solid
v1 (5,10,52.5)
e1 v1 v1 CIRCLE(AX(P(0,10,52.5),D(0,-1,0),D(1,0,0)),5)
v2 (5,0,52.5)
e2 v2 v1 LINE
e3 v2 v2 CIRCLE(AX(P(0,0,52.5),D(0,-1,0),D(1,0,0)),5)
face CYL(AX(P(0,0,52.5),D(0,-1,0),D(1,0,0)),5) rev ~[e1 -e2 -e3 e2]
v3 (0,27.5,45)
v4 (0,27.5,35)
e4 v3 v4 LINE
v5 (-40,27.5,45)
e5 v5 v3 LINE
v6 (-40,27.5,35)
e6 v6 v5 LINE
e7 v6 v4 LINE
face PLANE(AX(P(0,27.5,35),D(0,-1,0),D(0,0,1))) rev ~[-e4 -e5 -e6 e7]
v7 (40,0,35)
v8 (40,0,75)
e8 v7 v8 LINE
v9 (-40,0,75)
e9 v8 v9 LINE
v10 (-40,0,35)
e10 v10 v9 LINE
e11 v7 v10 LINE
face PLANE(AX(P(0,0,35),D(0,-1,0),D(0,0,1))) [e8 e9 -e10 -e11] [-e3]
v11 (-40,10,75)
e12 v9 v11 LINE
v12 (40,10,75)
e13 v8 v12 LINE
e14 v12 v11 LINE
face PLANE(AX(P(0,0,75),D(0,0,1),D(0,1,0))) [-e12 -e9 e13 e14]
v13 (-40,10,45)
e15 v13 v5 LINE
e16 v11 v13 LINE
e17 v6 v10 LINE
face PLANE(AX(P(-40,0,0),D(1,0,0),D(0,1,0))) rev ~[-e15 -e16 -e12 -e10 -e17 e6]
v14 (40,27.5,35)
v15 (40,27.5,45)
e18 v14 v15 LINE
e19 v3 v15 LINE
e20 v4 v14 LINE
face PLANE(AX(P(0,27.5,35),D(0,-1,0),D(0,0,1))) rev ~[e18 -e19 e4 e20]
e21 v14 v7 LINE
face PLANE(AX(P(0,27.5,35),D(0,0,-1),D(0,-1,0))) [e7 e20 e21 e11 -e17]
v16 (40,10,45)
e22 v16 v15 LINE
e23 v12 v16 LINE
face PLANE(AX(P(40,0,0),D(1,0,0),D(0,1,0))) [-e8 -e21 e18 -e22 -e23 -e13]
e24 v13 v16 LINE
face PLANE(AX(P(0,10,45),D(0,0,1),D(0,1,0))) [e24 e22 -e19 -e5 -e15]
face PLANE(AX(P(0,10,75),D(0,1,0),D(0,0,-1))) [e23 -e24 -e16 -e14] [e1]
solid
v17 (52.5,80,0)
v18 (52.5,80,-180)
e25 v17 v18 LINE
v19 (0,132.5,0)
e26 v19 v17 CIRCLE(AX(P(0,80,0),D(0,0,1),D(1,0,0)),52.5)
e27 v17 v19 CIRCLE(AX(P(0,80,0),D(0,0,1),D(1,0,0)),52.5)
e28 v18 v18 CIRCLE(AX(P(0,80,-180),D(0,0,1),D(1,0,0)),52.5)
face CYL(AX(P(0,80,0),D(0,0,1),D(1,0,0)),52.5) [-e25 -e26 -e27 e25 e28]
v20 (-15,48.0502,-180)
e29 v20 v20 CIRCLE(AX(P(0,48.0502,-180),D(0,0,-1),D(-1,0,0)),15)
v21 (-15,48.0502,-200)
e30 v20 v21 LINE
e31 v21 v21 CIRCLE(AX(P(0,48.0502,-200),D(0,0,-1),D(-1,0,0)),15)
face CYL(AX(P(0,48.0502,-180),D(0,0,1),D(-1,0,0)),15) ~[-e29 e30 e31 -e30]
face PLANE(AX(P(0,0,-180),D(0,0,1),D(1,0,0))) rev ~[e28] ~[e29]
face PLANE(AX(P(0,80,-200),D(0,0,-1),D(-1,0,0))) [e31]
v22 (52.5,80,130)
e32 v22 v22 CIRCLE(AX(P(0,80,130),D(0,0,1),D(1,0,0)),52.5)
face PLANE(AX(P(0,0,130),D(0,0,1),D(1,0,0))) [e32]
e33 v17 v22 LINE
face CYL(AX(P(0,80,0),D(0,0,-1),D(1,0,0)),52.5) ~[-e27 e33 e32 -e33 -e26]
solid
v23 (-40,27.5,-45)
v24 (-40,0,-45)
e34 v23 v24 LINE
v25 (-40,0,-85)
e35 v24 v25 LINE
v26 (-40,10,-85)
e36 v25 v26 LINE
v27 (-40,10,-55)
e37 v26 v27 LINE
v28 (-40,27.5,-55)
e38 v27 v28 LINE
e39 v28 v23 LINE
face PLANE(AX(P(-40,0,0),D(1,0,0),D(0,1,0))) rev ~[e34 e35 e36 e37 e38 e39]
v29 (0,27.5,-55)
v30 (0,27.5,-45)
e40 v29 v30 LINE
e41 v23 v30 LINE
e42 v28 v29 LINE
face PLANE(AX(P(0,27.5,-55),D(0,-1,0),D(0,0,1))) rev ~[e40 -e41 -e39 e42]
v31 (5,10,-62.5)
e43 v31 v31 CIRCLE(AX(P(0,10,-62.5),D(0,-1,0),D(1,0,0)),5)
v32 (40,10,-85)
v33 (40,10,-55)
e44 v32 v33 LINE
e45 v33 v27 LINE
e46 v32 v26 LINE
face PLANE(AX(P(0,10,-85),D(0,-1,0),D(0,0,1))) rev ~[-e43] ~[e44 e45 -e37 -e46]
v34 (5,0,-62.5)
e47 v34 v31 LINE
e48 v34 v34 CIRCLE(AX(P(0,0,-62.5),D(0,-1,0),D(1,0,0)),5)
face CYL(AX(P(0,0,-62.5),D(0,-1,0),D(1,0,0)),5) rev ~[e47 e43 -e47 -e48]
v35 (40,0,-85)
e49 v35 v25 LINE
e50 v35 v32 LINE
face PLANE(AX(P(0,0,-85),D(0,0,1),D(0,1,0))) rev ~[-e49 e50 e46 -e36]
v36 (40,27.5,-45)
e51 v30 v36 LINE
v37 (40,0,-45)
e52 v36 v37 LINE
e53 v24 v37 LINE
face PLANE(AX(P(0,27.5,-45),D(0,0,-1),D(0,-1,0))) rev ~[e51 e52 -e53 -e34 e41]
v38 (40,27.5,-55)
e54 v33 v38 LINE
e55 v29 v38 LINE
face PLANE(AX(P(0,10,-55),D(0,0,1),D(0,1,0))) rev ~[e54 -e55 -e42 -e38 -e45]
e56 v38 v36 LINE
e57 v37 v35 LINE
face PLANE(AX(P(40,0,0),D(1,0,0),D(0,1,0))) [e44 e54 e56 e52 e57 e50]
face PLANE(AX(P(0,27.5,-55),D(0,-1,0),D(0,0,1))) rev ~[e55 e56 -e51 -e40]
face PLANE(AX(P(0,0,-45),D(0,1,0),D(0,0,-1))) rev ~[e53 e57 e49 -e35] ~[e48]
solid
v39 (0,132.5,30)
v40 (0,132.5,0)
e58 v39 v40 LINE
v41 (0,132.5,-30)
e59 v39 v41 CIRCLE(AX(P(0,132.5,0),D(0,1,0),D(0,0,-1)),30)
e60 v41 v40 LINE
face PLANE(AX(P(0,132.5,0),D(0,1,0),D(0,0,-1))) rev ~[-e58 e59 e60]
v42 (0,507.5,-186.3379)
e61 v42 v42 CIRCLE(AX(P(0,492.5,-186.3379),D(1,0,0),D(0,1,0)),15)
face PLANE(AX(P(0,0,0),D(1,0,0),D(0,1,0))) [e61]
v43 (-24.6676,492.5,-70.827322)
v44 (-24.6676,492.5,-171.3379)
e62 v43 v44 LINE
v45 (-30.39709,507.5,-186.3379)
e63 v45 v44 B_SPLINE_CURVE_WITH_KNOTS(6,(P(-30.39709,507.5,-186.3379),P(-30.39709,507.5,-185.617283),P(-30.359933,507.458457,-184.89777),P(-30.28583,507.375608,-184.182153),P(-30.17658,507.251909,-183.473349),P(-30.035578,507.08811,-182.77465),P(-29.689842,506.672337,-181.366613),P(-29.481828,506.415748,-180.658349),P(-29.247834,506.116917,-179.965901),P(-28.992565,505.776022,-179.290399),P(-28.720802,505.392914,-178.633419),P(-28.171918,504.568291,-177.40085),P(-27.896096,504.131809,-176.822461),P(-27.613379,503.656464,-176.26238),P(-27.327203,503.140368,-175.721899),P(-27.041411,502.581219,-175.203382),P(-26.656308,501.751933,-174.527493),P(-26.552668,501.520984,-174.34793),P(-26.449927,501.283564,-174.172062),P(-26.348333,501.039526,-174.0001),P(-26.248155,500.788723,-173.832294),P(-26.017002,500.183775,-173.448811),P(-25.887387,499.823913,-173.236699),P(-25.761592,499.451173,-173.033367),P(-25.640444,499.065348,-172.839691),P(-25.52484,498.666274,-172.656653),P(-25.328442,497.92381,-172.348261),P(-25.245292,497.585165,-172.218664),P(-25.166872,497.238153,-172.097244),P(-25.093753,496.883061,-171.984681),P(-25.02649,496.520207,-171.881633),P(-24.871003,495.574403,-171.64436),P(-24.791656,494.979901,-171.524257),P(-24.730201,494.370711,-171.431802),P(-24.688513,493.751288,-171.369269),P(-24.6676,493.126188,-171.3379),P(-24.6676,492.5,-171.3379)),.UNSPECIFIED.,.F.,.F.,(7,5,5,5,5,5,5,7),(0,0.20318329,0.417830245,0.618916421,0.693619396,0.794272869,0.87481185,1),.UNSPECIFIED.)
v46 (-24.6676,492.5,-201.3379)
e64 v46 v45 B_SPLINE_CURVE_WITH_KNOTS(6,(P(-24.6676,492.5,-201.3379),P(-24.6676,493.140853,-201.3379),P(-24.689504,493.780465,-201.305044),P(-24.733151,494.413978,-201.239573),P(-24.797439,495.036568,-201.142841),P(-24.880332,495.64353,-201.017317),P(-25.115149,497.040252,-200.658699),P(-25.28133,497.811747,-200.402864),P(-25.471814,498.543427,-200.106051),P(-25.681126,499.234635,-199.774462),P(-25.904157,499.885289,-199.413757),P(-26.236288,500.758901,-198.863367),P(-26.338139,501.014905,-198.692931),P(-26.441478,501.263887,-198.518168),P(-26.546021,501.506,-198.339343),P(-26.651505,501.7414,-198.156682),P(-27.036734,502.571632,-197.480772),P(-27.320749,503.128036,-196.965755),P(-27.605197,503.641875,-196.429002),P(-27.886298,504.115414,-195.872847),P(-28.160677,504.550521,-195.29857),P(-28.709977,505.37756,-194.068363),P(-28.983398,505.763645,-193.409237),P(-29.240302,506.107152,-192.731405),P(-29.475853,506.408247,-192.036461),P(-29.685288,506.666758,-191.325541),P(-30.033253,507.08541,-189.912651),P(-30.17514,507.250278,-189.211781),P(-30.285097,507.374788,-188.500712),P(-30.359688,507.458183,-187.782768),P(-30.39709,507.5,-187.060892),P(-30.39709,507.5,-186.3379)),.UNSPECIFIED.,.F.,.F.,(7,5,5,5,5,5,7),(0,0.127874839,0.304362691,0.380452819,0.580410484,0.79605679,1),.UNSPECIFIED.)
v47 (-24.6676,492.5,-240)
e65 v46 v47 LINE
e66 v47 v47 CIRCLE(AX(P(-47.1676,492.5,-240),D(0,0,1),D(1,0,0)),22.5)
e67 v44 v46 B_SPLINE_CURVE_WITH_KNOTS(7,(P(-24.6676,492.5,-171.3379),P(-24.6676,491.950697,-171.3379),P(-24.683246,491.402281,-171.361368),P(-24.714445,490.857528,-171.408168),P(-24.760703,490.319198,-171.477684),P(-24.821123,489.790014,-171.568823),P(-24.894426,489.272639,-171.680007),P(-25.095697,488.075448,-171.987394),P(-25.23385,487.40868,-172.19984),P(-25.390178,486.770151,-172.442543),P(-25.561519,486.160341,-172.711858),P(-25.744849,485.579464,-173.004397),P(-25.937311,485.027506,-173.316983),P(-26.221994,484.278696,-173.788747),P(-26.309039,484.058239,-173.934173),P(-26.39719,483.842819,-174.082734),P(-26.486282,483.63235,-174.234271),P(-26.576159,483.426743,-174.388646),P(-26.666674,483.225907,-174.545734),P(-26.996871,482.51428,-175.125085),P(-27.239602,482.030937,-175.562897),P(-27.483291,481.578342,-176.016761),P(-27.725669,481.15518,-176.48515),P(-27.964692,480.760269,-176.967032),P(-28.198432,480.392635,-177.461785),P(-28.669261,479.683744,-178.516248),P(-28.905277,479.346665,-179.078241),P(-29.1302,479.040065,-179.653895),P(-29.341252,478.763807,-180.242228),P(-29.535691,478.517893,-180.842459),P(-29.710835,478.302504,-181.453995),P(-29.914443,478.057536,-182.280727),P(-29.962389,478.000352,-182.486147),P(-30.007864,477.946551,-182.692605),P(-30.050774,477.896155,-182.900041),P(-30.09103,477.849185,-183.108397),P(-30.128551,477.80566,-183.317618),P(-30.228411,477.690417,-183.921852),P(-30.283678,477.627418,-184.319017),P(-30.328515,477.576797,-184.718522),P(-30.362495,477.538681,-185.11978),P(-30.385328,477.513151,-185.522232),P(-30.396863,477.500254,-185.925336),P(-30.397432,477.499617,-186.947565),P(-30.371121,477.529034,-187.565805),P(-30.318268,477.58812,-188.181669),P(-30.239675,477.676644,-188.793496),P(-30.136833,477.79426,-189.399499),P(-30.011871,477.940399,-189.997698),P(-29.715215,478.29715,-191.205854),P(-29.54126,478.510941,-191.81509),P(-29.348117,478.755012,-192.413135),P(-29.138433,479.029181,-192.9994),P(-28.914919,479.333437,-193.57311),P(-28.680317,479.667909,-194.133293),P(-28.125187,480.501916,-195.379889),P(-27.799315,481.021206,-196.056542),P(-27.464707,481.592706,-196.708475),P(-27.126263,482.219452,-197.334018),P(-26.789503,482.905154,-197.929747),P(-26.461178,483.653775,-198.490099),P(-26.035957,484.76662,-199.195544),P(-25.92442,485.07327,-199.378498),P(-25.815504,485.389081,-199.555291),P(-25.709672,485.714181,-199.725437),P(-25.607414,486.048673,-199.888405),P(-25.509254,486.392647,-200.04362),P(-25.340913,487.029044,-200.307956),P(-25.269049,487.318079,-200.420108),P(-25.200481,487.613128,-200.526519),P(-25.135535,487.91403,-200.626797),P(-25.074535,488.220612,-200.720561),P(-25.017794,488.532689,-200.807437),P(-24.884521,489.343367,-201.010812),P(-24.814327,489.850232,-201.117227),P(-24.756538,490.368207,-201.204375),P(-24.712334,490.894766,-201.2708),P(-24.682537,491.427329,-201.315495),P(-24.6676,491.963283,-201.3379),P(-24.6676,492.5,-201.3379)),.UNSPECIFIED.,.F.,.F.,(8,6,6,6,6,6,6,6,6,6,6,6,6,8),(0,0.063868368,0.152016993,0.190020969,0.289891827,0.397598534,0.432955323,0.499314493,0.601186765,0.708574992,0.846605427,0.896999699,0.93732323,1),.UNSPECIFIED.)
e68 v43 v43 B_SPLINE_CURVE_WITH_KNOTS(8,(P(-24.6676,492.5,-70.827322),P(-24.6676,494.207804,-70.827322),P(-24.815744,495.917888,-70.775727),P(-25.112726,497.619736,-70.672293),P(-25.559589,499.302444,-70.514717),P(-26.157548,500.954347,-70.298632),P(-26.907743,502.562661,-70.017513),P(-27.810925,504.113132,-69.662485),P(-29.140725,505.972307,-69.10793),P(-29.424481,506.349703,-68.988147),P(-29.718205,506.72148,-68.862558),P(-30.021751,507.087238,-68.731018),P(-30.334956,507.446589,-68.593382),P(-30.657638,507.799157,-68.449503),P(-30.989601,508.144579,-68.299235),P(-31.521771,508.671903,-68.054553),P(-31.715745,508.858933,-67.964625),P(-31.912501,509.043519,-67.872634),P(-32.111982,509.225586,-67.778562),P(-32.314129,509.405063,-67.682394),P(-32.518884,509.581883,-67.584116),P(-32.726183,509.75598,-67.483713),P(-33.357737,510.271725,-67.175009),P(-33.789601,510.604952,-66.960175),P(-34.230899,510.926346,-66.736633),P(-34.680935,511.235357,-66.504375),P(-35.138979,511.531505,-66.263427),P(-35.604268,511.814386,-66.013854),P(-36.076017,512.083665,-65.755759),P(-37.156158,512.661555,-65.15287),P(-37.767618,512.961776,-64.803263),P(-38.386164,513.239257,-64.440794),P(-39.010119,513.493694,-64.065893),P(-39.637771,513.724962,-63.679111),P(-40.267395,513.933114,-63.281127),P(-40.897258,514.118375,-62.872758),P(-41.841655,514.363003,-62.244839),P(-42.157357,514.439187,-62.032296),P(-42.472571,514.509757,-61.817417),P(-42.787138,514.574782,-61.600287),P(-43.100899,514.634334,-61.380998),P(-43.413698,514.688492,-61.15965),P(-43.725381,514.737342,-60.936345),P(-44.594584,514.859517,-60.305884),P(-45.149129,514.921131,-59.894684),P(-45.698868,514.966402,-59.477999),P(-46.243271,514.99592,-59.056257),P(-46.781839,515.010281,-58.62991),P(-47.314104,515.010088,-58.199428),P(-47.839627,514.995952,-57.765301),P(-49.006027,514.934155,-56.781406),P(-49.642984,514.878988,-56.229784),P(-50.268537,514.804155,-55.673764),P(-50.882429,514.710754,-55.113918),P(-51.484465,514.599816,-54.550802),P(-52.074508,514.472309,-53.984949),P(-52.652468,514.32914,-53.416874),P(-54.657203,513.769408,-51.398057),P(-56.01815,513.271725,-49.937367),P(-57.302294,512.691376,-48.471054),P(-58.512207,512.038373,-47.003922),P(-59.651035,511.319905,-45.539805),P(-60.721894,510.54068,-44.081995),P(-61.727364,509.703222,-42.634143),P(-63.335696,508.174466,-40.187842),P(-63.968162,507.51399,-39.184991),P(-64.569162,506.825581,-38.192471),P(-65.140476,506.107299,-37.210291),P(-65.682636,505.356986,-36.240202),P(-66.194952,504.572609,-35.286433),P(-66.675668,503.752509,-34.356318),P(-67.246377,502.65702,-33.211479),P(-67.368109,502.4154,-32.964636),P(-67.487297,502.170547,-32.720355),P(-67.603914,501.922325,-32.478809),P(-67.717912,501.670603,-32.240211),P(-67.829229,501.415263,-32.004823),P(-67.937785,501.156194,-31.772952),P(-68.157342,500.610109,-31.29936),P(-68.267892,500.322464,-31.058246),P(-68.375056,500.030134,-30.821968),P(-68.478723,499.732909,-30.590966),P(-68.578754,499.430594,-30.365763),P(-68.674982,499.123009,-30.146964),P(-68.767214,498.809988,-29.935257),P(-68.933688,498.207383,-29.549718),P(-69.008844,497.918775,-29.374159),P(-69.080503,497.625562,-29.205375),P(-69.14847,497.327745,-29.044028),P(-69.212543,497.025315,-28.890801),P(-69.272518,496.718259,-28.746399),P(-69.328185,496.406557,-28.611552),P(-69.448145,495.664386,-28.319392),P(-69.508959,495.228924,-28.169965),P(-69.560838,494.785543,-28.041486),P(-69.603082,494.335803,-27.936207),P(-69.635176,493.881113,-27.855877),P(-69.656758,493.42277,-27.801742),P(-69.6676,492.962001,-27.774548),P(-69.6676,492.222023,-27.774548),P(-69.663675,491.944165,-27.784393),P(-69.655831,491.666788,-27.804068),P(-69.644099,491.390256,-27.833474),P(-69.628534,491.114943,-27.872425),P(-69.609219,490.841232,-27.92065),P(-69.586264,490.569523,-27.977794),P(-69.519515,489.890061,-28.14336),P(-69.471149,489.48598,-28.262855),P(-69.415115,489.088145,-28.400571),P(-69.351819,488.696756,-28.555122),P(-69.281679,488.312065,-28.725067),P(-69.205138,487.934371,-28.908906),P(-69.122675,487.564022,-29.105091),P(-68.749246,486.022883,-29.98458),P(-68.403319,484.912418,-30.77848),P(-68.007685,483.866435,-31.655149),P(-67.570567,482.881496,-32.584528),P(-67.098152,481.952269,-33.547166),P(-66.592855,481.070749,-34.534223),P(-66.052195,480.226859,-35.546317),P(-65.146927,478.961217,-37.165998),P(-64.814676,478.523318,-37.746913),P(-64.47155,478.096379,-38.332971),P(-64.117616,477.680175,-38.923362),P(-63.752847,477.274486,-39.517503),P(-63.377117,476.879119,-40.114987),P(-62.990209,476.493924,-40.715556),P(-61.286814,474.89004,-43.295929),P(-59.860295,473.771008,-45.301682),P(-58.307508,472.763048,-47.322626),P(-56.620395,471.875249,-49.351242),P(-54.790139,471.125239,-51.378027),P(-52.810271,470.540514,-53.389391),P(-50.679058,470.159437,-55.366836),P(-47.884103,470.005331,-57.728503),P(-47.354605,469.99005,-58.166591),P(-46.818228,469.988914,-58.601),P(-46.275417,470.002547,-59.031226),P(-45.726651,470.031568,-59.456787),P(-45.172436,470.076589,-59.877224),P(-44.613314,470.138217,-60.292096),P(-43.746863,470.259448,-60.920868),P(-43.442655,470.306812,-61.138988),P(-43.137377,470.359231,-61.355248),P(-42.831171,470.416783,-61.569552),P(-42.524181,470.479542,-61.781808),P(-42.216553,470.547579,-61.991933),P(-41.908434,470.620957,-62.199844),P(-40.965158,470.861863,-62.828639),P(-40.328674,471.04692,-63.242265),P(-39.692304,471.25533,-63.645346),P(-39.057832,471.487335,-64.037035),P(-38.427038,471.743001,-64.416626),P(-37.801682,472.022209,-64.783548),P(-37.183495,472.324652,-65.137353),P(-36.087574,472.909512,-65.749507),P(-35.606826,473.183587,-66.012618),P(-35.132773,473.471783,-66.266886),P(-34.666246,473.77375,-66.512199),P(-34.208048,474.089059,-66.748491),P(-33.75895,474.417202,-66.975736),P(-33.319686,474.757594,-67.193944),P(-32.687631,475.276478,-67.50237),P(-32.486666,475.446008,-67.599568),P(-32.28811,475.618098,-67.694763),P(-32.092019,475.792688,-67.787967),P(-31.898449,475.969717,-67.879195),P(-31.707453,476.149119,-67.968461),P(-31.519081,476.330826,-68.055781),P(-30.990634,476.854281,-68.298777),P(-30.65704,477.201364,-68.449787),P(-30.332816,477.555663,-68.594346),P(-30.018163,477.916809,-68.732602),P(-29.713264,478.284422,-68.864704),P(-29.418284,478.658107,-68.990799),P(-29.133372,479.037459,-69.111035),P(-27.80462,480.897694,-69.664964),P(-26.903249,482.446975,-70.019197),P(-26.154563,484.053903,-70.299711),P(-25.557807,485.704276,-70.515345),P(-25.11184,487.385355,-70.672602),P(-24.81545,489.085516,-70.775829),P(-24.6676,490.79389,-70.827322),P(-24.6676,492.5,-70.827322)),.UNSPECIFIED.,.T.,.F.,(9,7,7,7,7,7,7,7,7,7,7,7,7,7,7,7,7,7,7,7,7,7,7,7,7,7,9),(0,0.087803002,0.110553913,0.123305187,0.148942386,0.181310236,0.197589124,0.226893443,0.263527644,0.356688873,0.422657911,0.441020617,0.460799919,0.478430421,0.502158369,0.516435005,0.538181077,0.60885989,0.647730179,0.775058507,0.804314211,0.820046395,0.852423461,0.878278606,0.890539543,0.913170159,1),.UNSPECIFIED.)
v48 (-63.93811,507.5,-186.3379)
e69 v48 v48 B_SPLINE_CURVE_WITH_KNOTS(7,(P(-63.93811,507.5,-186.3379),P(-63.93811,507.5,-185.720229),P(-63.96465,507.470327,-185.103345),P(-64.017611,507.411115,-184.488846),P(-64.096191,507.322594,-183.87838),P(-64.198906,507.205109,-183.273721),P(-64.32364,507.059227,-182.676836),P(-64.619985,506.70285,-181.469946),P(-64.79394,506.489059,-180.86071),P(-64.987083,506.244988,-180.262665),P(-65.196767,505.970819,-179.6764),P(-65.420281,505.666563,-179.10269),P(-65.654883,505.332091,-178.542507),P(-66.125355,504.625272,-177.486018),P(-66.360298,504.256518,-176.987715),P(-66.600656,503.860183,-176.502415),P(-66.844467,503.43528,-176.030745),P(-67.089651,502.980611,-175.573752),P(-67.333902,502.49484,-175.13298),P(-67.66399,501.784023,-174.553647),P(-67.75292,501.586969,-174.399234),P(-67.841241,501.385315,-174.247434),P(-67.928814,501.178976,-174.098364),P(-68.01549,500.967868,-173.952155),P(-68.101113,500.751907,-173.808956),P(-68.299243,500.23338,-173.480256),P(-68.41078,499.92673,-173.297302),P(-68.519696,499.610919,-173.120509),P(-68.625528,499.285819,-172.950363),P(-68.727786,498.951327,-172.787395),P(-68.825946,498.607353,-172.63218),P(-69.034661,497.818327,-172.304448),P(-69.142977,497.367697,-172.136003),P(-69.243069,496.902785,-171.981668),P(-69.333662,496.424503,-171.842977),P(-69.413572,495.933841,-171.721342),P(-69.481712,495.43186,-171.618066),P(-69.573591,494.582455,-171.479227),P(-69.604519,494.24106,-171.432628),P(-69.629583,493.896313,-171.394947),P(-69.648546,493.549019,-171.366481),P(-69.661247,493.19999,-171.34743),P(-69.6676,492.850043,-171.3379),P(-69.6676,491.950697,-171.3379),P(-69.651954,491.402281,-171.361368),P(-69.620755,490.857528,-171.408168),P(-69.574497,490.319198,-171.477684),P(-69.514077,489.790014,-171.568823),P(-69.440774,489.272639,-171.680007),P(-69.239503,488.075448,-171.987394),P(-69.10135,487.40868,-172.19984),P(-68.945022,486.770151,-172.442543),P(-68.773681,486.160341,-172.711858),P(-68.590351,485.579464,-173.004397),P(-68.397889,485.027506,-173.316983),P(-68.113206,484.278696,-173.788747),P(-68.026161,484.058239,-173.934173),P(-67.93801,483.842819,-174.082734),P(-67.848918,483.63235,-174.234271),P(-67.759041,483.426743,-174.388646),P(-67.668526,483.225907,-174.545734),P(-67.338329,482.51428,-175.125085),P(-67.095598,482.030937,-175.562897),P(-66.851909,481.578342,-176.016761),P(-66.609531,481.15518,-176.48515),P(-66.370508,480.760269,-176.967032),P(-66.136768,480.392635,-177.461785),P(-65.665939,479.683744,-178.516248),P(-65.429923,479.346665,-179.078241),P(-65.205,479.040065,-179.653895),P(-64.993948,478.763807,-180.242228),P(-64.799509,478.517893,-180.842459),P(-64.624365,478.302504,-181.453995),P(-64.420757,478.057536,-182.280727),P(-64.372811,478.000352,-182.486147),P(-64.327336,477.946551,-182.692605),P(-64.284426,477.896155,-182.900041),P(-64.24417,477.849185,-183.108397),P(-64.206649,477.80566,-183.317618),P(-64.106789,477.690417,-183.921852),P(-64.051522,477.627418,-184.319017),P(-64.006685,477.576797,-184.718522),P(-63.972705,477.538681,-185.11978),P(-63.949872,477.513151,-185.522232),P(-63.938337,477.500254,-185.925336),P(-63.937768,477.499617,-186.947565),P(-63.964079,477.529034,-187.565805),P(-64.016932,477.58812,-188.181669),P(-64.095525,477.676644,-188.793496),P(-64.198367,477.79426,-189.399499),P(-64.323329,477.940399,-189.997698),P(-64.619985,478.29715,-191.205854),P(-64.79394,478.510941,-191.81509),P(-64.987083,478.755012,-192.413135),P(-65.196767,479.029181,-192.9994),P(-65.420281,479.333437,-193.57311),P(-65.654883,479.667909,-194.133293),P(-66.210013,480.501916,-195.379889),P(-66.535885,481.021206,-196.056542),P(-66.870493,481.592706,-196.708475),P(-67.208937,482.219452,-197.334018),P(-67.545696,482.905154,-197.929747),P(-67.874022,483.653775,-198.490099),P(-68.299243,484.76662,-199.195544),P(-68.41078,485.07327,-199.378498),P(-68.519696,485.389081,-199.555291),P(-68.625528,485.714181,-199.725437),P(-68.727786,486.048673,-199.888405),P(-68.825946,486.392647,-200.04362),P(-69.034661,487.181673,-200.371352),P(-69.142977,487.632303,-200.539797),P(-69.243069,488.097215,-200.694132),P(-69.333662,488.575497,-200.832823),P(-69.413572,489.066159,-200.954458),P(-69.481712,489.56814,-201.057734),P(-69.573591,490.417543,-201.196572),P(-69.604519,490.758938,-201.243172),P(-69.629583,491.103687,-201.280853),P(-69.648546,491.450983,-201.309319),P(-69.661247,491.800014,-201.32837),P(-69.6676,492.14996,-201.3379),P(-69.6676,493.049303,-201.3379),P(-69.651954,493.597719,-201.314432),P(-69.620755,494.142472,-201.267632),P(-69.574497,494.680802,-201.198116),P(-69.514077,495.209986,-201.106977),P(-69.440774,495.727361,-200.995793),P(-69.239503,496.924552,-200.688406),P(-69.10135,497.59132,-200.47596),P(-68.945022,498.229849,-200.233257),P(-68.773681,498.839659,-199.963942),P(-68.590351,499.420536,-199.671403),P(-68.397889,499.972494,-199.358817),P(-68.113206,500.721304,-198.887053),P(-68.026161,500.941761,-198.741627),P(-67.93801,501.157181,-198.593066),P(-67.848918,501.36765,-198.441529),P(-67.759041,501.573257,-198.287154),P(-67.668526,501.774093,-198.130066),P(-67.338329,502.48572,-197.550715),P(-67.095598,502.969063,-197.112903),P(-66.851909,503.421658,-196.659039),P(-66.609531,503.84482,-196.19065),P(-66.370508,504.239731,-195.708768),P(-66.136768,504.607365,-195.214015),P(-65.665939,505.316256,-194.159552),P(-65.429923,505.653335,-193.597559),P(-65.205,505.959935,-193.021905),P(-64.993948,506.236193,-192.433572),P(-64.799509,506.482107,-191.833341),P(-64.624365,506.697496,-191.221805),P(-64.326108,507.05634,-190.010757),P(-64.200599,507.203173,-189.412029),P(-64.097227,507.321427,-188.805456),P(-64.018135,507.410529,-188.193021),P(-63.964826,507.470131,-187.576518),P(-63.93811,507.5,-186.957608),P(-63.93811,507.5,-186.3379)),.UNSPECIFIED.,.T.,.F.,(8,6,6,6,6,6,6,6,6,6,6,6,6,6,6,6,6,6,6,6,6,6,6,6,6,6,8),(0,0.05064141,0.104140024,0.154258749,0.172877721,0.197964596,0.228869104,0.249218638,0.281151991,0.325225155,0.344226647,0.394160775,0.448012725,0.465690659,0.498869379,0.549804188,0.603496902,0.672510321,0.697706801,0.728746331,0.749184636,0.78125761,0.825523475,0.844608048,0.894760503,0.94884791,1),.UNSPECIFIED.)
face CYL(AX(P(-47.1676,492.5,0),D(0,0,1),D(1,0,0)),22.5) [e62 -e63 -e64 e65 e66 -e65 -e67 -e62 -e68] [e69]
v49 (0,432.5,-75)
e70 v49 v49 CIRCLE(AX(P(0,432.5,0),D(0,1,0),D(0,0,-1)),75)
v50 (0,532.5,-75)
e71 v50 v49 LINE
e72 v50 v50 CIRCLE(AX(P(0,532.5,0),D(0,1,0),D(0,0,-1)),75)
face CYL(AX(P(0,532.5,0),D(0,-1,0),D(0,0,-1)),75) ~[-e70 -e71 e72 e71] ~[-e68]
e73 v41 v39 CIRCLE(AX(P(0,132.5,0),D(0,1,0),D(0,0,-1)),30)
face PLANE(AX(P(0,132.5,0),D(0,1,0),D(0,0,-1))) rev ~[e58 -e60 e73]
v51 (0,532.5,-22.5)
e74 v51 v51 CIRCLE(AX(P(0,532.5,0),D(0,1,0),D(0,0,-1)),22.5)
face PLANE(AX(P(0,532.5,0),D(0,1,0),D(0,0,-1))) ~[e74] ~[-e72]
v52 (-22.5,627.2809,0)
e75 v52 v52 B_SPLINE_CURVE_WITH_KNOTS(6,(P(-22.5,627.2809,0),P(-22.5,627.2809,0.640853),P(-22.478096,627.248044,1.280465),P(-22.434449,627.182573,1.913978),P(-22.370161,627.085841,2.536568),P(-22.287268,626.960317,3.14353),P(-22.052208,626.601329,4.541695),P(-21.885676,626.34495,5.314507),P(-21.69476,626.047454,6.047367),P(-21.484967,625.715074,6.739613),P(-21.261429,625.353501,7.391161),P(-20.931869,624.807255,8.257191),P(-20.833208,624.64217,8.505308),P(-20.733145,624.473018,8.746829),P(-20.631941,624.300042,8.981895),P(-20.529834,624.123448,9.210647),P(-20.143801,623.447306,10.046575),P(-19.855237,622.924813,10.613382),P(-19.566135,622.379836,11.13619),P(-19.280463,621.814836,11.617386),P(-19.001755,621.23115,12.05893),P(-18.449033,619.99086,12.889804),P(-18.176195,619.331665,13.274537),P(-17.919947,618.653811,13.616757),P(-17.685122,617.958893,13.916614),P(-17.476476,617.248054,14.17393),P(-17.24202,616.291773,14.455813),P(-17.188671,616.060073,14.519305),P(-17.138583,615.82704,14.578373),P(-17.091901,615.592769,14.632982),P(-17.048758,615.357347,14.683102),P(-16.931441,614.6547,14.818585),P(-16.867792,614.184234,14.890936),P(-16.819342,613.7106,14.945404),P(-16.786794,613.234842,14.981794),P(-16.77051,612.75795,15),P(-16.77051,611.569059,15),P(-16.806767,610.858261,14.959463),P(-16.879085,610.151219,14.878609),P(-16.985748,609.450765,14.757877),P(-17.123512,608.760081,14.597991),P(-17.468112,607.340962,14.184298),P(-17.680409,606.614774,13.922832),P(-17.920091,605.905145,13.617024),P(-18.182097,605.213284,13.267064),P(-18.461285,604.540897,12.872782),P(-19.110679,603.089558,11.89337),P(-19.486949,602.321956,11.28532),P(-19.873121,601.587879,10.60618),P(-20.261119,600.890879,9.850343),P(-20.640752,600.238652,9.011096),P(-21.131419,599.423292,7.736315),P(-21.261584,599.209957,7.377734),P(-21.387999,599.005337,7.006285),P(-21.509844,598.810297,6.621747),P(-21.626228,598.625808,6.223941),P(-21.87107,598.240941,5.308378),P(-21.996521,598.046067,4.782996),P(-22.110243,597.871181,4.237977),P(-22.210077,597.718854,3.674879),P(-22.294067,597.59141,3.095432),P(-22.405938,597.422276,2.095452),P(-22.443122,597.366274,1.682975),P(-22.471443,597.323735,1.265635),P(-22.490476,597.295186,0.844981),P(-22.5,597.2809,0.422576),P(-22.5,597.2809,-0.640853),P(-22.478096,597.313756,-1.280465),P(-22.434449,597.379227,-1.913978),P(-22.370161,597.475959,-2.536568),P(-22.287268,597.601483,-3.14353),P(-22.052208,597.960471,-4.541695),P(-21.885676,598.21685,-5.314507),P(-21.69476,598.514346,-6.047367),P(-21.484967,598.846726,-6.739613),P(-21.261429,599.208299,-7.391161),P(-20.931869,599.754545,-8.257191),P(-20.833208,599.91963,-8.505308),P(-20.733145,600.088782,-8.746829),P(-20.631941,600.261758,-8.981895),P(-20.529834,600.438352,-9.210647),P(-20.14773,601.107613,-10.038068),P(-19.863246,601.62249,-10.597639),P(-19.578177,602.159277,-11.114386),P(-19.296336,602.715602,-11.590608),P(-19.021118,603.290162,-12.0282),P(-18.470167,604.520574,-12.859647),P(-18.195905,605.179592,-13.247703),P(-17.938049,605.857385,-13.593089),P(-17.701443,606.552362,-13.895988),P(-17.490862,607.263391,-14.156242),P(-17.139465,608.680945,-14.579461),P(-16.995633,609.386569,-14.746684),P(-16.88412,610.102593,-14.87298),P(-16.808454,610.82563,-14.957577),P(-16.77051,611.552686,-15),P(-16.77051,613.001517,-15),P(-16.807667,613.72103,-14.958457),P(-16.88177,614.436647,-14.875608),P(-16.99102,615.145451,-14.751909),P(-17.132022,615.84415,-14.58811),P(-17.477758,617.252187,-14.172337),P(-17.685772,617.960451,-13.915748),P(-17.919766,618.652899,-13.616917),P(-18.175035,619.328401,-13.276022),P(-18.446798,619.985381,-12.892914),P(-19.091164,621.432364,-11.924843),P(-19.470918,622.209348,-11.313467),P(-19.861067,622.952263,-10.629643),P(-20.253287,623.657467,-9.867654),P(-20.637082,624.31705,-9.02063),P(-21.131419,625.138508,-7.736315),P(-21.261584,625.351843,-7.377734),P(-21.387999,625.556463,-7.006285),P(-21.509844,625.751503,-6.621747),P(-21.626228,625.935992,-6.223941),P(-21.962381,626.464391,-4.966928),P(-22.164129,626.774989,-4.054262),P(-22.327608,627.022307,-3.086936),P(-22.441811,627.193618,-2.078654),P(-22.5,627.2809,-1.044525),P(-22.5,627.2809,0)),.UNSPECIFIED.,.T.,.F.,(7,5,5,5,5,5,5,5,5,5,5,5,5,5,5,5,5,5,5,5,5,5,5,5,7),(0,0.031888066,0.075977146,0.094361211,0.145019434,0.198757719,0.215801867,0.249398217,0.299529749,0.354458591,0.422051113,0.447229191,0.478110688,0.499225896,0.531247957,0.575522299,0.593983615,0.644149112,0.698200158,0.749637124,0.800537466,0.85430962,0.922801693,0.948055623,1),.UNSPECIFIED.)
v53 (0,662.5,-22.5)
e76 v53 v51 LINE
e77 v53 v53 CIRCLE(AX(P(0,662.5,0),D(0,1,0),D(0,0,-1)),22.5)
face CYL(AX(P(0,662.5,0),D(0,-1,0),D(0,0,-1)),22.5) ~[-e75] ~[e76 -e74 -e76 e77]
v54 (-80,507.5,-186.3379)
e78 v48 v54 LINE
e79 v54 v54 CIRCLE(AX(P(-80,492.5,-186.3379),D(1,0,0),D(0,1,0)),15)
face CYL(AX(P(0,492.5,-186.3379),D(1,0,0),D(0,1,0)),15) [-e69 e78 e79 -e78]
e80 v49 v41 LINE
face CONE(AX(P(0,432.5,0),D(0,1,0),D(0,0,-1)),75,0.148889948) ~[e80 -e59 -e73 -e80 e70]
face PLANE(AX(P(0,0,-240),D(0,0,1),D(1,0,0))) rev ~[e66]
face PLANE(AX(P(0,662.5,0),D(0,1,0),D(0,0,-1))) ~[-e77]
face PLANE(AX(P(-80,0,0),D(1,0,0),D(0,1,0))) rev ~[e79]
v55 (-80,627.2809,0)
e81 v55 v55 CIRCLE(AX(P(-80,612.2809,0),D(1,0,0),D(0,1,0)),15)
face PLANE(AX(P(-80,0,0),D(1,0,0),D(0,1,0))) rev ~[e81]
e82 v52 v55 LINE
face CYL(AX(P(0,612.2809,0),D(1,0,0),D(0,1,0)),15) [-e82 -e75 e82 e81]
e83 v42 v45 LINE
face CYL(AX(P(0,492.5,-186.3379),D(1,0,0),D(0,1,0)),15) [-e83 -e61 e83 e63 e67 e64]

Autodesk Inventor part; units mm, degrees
ref_plane "YZ Plane" through (0, 0, 0) normal (1, 0, 0) x (0, 1, 0)
ref_plane "XZ Plane" through (0, 0, 0) normal (0, 1, 0) x (-1, 0, 0)
ref_plane "XY Plane" through (0, 0, 0) normal (0, 0, 1) x (1, 0, 0)
sketch "Sketch1" plane through (0, 0, 0) normal (0, 0, 1) x (1, 0, 0)
  circle A0 centre (0, 80) radius 52.5
  point P0 (0, 0)
  dimension "d0" = 105
  dimension "d5" = 80
extrude "Extrusion1" add sketch "Sketch1" along normal blind 130 and the other way blind 180
sketch "Sketch2" plane through (0, 0, 0) normal (1, 0, 0) x (0, 1, 0)
  line L0 (132.5, -180) -> (132.5, 130) projected
  line L1 (132.5, 0) -> (662.5, 0)
  line L2 (662.5, 0) -> (662.5, -22.5)
  line L3 (662.5, -22.5) -> (532.5, -22.5)
  line L4 (532.5, -22.5) -> (532.5, -75)
  line L5 (532.5, -75) -> (432.5, -75)
  line L6 (432.5, -75) -> (132.5, -30)
  point P0 (0, 0)
  point P1 (397.5, 0)
  dimension "d6" = 530
  dimension "d8" = 45
  dimension "d9" = 130
  dimension "d10" = 150
  dimension "d11" = 30
  dimension "d12" = 100
revolve "Revolution1" add sketch "Sketch2" angle 360 about axis through (0, 132.5, 0) along (0, 1, 0)
sketch "Sketch3" plane through (0, 0, 0) normal (1, 0, 0) x (0, 1, 0)
  line L0 (27.5, -180) -> (27.5, 130) projected
  line L1 (27.5, 35) -> (0, 35)
  line L2 (0, 35) -> (0, 75)
  line L3 (0, 75) -> (10, 75)
  line L4 (10, 75) -> (10, 45)
  line L5 (10, 45) -> (27.5, 45)
  line L6 (27.5, -45) -> (0, -45)
  line L7 (0, -45) -> (0, -85)
  line L8 (0, -85) -> (10, -85)
  line L9 (10, -85) -> (10, -55)
  line L10 (10, -55) -> (27.5, -55)
  line L11 (132.5, 130) -> (27.5, 130) projected
  point P0 (0, 0)
  point P1 (0, 55)
  point P2 (13.75, 35)
  dimension "d14" = 95
  dimension "d15" = 10
  dimension "d16" = 10
  dimension "d17" = 10
  dimension "d18" = 80
  dimension "d19" = 40
  dimension "d20" = 160
extrude "Extrusion2" add sketch "Sketch3" along normal mid plane 80
sketch "Sketch4" plane through (-40, 0, 35) normal (0, -1, 0) x (1, 0, 0)
  line L0 (0, 0) -> (80, 0) projected
  line L1 (80, 40) -> (80, 0) projected
  line L2 (0, 40) -> (80, 40) projected
  line L3 (0, 0) -> (0, 40) projected
  line L4 (0, -120) -> (80, -120) projected
  line L5 (80, -80) -> (80, -120) projected
  line L6 (0, -80) -> (80, -80) projected
  line L7 (0, -120) -> (0, -80) projected
  circle A0 centre (40, -97.5) radius 5
  circle A1 centre (40, 17.5) radius 5
  line L8 (40, 0) -> (40, -80)
  line L9 (40, 0) -> (80, 0) projected
  line L10 (40, -40) -> (121.7748, -40)
  point P0 (40, -35)
  dimension "d23" = 115
  dimension "d24" = 10
sketch "Sketch5" plane through (0, 0, 0) normal (0, 0, 1) x (1, 0, 0)
  line L0 (75, 532.5) -> (-75, 532.5) projected
  line L1 (75, 432.5) -> (-75, 432.5) projected
  circle A0 centre (-47.1676, 492.5) radius 22.5
  point P0 (0, 0)
  point P1 (0, 532.5)
  dimension "d25" = 45
  dimension "d26" = 47.1676
  dimension "d27" = 40
extrude "Extrusion3" add sketch "Sketch5" against normal blind 240
sketch "Sketch6" plane through (0, 80, -180) normal (0, 0, -1) x (-1, 0, 0)
  circle A0 centre (0, -31.9498) radius 15
  point P0 (0, -80)
  dimension "d30" = 30
extrude "Extrusion4" add sketch "Sketch6" along normal blind 20
sketch "Sketch7" plane through (0, 0, 0) normal (1, 0, 0) x (0, 1, 0)
  line L0 (662.5, -22.5) -> (662.5, 22.5) projected
  line L1 (532.5, -22.5) -> (532.5, 22.5) projected
  line L2 (470, -240) -> (515, -240) projected
  circle A0 centre (612.2809, 0) radius 15
  circle A1 centre (492.5, -186.3379) radius 15
  point P0 (0, 0)
  point P1 (492.5, -27.7745)
  dimension "d33" = 30
  dimension "d34" = 30
extrude "Extrusion5" add sketch "Sketch7" against normal blind 80
extrude "Extrusion6" cut sketch "Sketch4" against normal up to surface (10 mm away) contours A0 | A1
equation "\"d16\" = d15"
equation "\"d17\" = d15"
properties part number "Гидроциклон"
